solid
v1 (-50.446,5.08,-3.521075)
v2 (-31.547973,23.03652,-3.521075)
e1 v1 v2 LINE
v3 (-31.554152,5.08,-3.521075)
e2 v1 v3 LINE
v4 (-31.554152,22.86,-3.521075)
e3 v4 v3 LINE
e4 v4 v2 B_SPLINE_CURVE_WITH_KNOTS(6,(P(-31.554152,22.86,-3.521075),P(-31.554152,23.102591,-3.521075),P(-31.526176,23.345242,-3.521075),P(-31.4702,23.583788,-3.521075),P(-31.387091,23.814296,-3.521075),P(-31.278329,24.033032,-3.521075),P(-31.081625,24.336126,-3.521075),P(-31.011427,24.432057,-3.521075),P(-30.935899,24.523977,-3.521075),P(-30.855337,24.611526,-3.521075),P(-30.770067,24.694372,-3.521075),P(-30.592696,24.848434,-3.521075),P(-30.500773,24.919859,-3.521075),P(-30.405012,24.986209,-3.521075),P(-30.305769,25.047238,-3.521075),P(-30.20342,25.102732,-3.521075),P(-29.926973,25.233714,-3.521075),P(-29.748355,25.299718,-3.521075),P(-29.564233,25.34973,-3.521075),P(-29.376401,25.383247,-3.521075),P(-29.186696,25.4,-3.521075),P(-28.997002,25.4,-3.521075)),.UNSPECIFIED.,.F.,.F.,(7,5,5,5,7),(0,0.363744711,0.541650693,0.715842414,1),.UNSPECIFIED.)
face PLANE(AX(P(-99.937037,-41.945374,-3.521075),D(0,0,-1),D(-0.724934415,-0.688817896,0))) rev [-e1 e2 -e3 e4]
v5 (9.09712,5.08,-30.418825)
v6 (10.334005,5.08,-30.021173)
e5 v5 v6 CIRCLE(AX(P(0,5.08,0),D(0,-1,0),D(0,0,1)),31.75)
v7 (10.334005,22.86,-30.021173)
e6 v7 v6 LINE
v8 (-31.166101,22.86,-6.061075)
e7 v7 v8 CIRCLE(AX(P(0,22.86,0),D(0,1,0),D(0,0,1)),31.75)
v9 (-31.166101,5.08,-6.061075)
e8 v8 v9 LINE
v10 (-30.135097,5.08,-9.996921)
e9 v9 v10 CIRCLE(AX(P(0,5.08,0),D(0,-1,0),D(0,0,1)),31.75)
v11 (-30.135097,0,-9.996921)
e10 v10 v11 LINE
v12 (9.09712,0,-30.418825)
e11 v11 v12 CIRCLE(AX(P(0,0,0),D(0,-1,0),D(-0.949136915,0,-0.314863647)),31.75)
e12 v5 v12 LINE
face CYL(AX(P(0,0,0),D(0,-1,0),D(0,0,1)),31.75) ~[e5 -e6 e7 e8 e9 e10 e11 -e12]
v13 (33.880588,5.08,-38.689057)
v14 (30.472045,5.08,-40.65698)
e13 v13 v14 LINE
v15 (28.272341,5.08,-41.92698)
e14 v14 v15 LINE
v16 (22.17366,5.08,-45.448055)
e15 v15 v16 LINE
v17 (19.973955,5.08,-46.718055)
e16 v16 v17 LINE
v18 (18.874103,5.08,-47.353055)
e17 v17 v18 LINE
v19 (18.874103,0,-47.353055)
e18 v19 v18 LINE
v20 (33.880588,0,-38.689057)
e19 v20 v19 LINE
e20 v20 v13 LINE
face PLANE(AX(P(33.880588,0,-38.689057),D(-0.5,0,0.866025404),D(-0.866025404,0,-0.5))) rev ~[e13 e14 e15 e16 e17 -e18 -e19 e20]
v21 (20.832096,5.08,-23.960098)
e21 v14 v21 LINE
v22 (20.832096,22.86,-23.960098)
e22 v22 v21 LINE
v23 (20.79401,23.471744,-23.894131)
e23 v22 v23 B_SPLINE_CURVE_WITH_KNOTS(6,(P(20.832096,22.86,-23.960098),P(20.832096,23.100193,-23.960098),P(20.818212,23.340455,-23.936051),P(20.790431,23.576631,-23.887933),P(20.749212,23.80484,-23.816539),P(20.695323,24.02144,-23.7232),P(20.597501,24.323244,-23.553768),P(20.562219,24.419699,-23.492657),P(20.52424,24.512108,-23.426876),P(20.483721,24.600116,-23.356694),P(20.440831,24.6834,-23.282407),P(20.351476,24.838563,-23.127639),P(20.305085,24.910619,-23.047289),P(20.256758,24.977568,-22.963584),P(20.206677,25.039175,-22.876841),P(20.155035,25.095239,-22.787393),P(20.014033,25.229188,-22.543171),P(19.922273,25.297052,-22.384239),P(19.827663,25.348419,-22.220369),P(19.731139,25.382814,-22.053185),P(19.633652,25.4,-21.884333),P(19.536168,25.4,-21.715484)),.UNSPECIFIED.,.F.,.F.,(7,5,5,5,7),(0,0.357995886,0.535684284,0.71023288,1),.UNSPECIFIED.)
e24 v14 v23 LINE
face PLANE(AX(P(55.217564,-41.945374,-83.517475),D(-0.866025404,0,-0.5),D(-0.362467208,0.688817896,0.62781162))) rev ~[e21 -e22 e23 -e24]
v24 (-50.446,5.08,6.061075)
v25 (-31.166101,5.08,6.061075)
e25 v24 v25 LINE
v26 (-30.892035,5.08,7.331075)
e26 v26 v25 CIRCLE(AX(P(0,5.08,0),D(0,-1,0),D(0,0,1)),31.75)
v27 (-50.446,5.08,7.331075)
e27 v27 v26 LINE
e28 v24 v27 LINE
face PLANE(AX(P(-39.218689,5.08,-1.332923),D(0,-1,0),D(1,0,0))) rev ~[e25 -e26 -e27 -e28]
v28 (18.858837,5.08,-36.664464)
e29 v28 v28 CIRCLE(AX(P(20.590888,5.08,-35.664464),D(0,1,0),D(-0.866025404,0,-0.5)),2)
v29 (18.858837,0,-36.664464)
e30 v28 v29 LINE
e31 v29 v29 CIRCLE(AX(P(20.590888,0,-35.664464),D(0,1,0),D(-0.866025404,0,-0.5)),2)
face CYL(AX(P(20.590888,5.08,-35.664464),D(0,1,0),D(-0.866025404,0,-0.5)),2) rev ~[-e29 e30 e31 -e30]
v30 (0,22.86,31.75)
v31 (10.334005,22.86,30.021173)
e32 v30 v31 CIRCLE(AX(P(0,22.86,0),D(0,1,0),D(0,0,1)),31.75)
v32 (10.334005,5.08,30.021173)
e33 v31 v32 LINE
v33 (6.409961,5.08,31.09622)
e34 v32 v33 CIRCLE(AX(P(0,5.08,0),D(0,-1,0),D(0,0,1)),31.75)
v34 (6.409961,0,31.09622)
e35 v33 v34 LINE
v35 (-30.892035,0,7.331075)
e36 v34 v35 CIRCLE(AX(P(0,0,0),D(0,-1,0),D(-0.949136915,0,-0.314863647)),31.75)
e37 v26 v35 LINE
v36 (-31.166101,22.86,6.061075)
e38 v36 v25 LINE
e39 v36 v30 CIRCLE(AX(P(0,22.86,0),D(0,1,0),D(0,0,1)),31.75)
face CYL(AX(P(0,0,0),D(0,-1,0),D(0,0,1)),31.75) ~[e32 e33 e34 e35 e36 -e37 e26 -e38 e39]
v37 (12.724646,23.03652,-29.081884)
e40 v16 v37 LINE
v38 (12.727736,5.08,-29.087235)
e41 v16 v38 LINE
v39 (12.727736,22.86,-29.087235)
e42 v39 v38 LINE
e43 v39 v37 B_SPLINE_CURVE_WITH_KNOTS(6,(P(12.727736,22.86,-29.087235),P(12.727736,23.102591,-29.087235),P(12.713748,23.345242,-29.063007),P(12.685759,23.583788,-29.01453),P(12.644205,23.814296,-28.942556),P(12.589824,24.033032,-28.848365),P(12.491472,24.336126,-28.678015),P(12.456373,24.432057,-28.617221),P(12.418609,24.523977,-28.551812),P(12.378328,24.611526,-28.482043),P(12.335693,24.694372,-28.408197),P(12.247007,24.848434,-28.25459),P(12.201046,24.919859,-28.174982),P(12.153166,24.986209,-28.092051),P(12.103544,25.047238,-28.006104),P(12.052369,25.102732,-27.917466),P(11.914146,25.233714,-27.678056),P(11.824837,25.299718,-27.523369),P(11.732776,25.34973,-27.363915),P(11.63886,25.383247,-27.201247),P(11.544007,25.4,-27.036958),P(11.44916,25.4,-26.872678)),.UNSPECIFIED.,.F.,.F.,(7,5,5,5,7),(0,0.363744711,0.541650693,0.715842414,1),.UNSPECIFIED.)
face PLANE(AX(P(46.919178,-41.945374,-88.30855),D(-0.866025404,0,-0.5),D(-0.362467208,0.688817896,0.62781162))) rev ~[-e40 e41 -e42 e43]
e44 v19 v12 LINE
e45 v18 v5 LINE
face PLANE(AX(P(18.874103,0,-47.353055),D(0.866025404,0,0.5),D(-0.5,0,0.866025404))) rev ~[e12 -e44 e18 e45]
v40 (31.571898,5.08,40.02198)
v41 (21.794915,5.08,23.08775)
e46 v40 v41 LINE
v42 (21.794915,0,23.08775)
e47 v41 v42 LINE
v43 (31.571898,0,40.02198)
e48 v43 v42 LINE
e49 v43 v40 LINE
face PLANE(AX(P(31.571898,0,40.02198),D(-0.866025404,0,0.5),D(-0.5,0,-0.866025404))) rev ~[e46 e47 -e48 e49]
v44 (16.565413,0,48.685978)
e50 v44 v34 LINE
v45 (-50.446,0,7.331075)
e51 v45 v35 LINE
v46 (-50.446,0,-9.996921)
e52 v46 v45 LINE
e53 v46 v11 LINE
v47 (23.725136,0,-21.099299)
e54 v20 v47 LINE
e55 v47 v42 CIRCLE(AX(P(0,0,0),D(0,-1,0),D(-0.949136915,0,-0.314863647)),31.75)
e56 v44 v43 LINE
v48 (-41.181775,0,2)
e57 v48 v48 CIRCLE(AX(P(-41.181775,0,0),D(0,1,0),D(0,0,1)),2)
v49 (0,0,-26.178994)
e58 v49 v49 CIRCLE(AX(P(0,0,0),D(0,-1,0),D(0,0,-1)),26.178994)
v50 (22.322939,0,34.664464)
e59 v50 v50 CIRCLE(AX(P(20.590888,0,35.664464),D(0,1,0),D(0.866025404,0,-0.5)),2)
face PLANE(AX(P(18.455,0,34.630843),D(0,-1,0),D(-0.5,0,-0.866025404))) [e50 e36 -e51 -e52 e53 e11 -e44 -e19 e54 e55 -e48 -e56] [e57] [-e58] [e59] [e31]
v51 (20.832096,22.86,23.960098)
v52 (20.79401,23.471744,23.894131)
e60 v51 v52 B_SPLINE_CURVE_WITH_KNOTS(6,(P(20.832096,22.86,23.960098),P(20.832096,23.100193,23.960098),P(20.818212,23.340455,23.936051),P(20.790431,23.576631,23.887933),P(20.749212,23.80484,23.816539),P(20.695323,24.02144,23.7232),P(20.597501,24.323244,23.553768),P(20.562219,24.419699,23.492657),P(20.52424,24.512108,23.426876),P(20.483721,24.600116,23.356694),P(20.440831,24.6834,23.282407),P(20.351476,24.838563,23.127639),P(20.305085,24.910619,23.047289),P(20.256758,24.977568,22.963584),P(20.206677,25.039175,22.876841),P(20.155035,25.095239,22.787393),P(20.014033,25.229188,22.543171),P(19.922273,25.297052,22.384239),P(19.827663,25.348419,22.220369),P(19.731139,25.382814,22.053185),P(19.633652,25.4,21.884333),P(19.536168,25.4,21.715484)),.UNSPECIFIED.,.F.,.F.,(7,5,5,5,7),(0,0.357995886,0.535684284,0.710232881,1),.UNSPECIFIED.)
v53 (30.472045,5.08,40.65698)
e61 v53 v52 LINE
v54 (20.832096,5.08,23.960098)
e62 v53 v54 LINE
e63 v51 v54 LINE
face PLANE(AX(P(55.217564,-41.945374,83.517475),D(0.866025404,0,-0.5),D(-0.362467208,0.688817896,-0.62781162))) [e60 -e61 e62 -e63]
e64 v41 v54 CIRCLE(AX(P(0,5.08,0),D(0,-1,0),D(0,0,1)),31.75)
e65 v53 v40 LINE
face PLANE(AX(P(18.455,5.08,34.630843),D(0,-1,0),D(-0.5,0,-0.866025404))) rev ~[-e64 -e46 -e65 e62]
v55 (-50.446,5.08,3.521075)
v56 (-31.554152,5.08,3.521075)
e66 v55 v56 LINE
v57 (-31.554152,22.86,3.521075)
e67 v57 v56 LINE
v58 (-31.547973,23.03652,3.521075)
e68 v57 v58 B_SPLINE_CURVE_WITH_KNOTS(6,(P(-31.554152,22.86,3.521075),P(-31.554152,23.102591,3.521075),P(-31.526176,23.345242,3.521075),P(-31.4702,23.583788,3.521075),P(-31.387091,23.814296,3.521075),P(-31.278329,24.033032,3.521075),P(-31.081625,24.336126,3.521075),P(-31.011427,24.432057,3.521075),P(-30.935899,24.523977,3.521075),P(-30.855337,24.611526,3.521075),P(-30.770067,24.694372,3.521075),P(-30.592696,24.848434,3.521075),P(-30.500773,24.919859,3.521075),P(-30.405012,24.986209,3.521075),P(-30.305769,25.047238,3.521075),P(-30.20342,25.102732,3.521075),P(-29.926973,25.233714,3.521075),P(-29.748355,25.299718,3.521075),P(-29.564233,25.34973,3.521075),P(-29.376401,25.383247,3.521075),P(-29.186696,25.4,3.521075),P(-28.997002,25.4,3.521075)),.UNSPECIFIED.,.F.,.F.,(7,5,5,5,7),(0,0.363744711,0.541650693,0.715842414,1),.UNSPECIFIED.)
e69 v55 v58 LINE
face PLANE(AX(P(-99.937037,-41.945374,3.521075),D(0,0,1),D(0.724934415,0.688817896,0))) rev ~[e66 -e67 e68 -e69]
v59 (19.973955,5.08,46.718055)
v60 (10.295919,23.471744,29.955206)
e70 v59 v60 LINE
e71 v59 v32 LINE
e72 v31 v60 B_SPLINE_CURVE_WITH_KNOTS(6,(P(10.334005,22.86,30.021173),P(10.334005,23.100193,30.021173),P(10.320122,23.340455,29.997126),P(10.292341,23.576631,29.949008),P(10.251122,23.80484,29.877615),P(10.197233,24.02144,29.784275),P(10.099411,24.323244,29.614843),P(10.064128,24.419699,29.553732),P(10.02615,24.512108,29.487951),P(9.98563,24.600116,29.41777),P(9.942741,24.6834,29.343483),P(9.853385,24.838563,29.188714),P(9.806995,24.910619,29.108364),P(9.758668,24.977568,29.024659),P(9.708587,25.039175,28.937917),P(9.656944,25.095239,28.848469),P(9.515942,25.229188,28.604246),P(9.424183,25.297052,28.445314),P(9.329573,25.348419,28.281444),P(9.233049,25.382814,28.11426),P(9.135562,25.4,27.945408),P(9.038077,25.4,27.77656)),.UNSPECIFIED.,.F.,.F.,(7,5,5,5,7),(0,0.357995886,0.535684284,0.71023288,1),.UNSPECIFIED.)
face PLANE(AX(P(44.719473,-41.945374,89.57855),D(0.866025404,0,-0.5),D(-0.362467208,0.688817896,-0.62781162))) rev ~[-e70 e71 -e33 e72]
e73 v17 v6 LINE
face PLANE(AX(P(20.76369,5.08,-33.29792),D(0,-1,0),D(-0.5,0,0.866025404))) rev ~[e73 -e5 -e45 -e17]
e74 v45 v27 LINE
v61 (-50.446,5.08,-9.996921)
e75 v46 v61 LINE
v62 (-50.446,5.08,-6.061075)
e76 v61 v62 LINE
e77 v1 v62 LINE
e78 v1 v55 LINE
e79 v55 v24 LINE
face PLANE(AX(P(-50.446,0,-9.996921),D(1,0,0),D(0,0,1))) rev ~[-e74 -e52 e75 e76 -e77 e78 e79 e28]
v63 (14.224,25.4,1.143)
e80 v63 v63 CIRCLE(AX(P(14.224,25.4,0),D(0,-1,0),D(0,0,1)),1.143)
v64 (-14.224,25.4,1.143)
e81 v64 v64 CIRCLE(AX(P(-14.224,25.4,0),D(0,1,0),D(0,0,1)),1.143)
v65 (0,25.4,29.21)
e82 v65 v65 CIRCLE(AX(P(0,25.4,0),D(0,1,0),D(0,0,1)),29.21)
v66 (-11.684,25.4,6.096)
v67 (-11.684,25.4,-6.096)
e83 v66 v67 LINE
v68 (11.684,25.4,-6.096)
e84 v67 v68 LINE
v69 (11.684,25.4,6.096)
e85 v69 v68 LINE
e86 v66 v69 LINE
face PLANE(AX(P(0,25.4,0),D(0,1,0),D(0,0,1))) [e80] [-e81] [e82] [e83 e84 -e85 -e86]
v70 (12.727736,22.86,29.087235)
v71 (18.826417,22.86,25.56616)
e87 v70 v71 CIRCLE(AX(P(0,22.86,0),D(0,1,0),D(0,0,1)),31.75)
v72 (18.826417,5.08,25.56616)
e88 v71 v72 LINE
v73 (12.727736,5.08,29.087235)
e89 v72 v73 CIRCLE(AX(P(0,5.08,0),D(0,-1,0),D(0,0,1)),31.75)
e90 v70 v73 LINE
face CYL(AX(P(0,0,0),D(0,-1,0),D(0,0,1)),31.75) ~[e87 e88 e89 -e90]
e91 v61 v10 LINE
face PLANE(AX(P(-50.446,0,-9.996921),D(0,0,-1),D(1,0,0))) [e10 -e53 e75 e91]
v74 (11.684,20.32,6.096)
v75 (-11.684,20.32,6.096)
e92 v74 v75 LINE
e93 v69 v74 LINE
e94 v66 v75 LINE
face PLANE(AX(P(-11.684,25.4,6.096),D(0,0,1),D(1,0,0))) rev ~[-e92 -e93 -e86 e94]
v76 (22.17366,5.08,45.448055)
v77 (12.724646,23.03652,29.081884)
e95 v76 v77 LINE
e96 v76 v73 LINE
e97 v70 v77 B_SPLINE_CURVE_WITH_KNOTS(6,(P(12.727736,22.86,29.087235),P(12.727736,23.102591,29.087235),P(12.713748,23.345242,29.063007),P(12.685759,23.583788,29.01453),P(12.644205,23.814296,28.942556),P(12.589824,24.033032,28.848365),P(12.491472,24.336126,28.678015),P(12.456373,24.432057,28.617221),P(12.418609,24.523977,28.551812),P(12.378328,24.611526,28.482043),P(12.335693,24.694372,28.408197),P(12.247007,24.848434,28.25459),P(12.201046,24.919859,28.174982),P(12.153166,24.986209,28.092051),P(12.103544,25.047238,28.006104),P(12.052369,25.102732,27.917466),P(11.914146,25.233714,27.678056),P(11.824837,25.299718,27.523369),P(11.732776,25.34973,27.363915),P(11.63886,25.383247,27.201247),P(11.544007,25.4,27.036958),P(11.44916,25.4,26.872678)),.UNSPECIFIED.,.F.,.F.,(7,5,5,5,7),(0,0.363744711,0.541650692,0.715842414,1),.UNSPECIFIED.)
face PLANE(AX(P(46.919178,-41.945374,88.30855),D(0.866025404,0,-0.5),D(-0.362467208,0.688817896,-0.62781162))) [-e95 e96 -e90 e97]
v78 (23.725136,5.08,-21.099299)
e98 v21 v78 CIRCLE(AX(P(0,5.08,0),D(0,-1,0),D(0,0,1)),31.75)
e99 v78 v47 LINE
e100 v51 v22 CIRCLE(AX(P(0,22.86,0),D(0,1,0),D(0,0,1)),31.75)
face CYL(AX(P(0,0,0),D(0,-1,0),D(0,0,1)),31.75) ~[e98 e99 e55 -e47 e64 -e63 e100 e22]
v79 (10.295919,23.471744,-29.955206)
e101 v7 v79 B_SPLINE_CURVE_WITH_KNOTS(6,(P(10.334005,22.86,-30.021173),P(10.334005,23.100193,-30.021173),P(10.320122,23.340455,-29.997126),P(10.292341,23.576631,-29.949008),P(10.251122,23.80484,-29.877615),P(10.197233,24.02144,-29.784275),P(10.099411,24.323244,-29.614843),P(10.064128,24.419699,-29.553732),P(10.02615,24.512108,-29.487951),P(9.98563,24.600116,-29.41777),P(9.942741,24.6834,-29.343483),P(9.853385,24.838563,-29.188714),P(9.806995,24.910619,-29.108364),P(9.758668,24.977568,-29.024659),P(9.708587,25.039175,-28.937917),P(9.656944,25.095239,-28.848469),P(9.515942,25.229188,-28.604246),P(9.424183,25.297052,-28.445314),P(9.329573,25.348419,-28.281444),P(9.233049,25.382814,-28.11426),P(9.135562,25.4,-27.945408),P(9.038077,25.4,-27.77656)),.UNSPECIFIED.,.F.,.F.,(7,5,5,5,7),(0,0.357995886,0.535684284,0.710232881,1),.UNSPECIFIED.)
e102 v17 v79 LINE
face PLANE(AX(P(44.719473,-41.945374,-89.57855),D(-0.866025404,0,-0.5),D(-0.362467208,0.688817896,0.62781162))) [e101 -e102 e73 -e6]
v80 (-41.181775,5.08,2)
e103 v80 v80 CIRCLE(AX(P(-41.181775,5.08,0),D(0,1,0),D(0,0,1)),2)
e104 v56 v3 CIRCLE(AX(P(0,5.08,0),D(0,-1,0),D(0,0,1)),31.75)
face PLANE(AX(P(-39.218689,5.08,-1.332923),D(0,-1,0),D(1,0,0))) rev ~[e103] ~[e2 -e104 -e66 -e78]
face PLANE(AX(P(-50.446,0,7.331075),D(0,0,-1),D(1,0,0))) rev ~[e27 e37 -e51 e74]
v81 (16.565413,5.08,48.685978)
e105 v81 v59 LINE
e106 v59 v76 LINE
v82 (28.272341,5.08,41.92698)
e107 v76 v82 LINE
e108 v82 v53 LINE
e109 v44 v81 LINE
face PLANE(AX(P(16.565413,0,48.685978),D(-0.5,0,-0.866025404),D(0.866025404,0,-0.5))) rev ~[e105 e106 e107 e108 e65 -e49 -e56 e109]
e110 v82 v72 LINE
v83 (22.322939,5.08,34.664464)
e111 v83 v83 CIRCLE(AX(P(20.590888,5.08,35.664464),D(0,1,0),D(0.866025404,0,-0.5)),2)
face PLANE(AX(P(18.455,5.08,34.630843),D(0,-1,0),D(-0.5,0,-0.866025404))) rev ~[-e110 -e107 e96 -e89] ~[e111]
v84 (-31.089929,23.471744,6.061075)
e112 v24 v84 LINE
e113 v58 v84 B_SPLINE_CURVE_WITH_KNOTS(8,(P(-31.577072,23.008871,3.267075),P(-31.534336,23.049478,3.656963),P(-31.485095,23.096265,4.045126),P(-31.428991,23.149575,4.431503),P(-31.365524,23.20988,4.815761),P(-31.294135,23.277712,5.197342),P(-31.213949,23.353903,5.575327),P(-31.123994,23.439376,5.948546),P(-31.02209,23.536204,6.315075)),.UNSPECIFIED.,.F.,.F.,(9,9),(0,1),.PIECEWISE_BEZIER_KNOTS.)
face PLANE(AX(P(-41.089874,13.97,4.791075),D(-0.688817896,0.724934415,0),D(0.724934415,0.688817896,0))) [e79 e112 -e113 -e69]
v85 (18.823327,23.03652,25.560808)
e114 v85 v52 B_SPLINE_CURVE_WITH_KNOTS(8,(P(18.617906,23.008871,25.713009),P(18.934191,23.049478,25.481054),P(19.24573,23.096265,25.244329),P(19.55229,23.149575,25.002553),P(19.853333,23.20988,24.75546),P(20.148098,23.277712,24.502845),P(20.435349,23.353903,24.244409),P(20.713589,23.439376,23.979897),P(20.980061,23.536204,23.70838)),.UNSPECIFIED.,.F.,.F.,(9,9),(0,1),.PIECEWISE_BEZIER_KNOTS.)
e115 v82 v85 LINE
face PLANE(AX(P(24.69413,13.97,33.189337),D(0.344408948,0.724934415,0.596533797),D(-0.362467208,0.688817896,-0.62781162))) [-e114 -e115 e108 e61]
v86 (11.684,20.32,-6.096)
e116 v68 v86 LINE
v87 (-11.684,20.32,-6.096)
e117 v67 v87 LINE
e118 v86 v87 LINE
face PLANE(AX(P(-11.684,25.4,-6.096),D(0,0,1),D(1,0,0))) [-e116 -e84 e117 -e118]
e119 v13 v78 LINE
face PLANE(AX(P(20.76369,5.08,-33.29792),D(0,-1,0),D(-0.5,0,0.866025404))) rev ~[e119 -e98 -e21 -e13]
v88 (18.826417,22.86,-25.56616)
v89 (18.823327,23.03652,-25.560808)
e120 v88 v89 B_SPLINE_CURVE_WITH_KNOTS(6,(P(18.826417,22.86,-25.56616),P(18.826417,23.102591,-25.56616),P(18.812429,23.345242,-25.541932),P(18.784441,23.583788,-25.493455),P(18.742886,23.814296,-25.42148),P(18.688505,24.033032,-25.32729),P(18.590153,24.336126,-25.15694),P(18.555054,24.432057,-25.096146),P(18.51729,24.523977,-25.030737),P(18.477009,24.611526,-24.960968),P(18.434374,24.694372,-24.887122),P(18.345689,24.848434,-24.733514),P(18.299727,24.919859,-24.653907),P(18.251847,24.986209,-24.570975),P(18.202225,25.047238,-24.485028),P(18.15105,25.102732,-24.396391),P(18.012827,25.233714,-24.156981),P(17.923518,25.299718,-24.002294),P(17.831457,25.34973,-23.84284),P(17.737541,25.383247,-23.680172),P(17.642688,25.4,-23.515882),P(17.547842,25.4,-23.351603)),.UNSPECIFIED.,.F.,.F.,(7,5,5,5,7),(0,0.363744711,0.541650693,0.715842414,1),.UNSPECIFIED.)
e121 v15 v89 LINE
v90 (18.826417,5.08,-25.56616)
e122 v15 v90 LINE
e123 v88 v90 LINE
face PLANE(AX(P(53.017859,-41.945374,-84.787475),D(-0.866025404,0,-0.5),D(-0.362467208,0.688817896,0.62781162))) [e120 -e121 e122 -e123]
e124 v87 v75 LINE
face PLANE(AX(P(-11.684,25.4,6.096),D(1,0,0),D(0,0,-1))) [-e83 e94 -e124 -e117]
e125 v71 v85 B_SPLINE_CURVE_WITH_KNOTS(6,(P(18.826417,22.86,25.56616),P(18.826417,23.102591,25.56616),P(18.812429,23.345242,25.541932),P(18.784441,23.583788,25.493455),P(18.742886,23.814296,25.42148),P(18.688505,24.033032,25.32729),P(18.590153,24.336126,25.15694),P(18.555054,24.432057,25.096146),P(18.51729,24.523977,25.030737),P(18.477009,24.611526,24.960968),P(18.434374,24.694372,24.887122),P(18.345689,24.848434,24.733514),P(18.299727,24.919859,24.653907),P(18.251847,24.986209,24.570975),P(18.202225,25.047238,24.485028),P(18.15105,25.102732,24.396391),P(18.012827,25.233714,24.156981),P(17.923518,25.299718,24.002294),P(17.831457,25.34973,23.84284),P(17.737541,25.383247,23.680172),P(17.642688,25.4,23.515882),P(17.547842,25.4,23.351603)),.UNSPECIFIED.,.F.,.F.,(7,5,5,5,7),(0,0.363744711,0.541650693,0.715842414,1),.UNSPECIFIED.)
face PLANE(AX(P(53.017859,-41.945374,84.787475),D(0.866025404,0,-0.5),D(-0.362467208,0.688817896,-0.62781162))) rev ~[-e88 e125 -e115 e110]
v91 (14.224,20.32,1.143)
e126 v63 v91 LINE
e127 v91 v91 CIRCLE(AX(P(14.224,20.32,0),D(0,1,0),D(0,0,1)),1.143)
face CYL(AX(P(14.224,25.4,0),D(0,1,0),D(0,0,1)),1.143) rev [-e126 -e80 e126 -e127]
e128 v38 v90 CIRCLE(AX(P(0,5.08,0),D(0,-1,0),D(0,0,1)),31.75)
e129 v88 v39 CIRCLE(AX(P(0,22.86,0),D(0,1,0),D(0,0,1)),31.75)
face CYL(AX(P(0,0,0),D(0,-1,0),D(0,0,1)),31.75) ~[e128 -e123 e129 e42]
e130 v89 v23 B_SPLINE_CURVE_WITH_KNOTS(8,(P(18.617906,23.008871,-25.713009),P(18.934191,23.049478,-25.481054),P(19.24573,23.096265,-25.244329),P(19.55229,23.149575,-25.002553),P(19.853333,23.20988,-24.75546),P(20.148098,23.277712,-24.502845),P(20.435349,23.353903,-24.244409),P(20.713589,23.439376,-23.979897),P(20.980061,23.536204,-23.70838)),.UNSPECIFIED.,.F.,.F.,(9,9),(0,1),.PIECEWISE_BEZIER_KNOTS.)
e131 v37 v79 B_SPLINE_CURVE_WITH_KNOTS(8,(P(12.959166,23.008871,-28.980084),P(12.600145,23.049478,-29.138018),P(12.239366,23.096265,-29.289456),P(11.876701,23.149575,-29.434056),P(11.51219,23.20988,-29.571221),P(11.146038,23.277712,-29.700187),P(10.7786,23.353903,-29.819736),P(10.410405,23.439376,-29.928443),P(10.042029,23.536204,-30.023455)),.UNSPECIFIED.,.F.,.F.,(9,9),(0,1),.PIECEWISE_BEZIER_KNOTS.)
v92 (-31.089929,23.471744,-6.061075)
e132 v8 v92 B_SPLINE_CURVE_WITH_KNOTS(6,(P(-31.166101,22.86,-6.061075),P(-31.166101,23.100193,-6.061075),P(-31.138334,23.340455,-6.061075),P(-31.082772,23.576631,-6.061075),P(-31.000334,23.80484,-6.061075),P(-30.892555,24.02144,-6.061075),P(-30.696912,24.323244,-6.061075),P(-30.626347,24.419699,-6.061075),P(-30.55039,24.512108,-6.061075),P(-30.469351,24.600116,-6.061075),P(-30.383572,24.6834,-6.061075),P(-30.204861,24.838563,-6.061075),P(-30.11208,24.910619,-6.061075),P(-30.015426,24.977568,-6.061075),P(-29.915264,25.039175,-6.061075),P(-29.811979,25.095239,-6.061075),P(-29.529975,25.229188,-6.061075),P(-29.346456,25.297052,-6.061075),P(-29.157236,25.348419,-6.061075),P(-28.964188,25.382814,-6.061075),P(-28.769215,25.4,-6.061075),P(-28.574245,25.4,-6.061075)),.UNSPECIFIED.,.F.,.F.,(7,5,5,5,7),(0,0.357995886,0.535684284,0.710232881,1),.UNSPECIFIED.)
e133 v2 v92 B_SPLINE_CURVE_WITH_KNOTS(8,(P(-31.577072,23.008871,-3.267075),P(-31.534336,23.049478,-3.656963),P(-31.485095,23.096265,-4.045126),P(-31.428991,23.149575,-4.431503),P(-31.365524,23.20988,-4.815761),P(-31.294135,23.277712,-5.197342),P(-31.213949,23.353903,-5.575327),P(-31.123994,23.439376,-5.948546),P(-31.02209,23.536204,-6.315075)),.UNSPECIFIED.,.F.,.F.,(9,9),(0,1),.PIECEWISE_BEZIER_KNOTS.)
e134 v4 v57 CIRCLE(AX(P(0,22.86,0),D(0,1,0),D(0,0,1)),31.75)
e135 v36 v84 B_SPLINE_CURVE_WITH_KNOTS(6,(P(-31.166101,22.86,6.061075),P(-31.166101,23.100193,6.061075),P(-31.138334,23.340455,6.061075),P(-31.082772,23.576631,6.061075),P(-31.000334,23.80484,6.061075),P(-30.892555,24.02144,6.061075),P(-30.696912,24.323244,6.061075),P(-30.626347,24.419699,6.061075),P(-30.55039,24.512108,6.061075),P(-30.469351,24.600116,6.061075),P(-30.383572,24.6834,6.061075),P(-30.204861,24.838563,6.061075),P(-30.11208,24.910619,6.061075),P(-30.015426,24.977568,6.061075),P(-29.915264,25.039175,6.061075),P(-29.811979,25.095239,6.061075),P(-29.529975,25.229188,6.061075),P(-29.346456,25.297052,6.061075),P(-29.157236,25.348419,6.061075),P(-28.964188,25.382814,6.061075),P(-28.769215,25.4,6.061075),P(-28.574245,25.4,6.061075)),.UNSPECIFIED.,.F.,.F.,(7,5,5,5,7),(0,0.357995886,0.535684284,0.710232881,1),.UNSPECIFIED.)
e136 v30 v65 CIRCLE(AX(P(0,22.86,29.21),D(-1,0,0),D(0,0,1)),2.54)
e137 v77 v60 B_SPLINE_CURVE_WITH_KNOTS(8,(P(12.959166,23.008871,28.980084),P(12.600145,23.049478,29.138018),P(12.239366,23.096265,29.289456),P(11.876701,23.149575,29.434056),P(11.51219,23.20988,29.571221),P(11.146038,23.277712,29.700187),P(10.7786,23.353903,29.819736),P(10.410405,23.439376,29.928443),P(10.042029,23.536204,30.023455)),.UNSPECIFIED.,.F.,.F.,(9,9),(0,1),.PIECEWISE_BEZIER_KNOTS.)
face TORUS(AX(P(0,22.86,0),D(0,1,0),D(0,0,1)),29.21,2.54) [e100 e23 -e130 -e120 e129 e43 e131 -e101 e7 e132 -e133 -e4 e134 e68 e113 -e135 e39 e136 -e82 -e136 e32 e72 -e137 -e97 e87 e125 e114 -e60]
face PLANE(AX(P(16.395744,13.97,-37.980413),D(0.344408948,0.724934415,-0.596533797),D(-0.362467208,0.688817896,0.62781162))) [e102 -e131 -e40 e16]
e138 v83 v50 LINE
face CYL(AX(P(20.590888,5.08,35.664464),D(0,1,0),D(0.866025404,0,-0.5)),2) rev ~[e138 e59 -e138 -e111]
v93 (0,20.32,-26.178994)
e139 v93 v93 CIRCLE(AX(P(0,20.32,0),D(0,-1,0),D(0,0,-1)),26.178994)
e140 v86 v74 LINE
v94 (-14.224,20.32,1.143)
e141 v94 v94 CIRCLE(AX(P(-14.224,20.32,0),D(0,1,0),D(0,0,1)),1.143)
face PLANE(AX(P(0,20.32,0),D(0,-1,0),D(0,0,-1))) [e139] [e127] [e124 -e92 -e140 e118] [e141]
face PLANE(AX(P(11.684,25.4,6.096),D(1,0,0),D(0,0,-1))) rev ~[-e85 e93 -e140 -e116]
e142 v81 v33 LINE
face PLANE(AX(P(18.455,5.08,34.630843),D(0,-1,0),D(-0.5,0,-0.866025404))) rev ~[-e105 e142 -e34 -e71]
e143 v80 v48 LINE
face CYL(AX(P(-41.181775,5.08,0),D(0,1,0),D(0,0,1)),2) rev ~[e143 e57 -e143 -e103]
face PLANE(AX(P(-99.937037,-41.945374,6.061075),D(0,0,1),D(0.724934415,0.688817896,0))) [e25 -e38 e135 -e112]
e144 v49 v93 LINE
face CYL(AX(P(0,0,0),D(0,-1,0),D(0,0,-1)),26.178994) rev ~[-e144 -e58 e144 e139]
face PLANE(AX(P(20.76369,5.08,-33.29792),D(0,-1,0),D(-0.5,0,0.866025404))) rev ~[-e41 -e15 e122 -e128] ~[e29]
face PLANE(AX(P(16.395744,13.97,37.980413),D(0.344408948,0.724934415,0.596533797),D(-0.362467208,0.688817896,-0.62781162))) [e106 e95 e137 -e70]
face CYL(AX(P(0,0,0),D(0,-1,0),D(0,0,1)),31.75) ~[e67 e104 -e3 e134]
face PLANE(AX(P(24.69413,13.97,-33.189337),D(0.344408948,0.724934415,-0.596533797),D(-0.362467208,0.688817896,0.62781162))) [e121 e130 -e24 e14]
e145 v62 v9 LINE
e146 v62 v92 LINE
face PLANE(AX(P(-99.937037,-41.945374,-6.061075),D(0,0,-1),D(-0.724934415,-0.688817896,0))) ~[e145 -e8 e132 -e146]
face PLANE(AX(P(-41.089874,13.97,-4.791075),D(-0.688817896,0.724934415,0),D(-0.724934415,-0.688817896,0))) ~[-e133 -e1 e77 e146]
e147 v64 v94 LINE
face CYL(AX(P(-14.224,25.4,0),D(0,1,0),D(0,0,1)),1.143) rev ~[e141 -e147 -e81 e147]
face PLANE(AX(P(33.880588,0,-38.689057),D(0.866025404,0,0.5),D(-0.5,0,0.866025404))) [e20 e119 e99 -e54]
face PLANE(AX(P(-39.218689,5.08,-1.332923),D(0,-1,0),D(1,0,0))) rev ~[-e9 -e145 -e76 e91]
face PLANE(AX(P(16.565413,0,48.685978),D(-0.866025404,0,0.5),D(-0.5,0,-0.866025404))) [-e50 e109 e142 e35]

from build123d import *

# Parameters (mm, degrees)
SKETCH1_R                   = 31.75
BOSS_EXTRUDE1_DEPTH         = 25.4
FILLET1_R                   = 2.54
SKETCH2_R                   = 26.178994306
CUT_EXTRUDE1_DEPTH          = 20.32
SKETCH3_W                   = 23.368
SKETCH3_H                   = 12.192
CUT_EXTRUDE2_DEPTH          = 20.32
SKETCH4_R                   = 1.143
CUT_EXTRUDE3_DEPTH          = 20.32
SKETCH6_W                   = 22.454622086
SKETCH6_H                   = 17.327996038
BOSS_EXTRUDE2_DEPTH         = 5.08
RIB1_REACH                  = 69.27
SKETCH11_WALL_W             = 162.351686776
SKETCH11_WALL_H             = 2.54
CIRPATTERN1_COUNT           = 3
CIRPATTERN1_COPY_1_REACH    = 69.27
CIRPATTERN1_COPY_1_SKETCH_W = 162.351686776
CIRPATTERN1_COPY_1_SKETCH_H = 2.54
CIRPATTERN1_COPY_2_REACH    = 69.27
CIRPATTERN1_COPY_2_SKETCH_W = 162.351686776
CIRPATTERN1_COPY_2_SKETCH_H = 2.54
SKETCH12_R                  = 2
CUT_EXTRUDE4_DEPTH          = 5.08
CIRPATTERN2_COUNT           = 3


with BuildPart() as part:
    # Sketch1 → Boss-Extrude1 (new body)
    with BuildSketch(Plane(origin=(0, 0, 0), x_dir=(1, 0, 0), z_dir=(0, 1, 0))):
        with Locations(Location((0, 0, 0), (0, 0, 270))):
            Circle(SKETCH1_R)
    extrude(amount=BOSS_EXTRUDE1_DEPTH)

    # Fillet1
    fillet1_edges = [part.edges().sort_by_distance(p)[0] for p in [
        (0, 25.4, -31.75),
    ]]
    fillet(fillet1_edges, radius=FILLET1_R)

    # Sketch2 → Cut-Extrude1 (cut)
    with BuildSketch(Plane.XZ):
        with Locations(Location((0, 0, 0), (0, 0, 270))):
            Circle(SKETCH2_R)
    extrude(amount=-CUT_EXTRUDE1_DEPTH, mode=Mode.SUBTRACT)

    # Sketch3 → Cut-Extrude2 (cut)
    with BuildSketch(Plane(origin=(0, 25.4, 0), x_dir=(1, 0, 0), z_dir=(0, 1, 0))):
        Rectangle(SKETCH3_W, SKETCH3_H)
    extrude(amount=-CUT_EXTRUDE2_DEPTH, mode=Mode.SUBTRACT)

    # Sketch4 → Cut-Extrude3 (cut)
    with BuildSketch(Plane(origin=(0, 25.4, 0), x_dir=(1, 0, 0), z_dir=(0, 1, 0))):
        with Locations(Location((-14.224, 0, 0), (0, 0, 270))):
            Circle(SKETCH4_R)
    cut_extrude3 = extrude(amount=-CUT_EXTRUDE3_DEPTH, mode=Mode.SUBTRACT)

    # Mirror1: Cut-Extrude3 across plane
    add(cut_extrude3.mirror(Plane(origin=(0, 0, 0), x_dir=(0, 0, 1), z_dir=(1, 0, 0))), mode=Mode.SUBTRACT)

    # Sketch6 → Boss-Extrude2 (add)
    with BuildSketch(Plane.XZ):
        with Locations((-39.218689259, -1.332922772)):
            Rectangle(SKETCH6_W, SKETCH6_H)
    boss_extrude2 = extrude(amount=-BOSS_EXTRUDE2_DEPTH)

    # Sketch11 wall → Rib1 (add, up to next)
    with BuildSketch(Plane(origin=(-41.089874413, 13.97, 4.791075247), x_dir=(0.724934415066, 0.688817896002, 0), z_dir=(-0.688817896002, 0.724934415066, 0)), mode=Mode.PRIVATE) as rib1_sk1:
        Rectangle(SKETCH11_WALL_W, SKETCH11_WALL_H)
    rib1_tool1 = extrude(rib1_sk1.sketch, amount=-RIB1_REACH, mode=Mode.PRIVATE) - part.part
    rib1 = rib1_tool1.solids().sort_by_distance((-41.089874413, 13.97, 4.791075247))[0]
    add(rib1)

    # Mirror2: Rib1 across plane
    add(rib1.mirror(Plane.XY))

    # CirPattern1: Boss-Extrude2, Rib1 ×3 about axis
    cirpattern1_axis = Axis((0, 0, 0), (0, 1, 0))
    add([boss_extrude2.rotate(cirpattern1_axis, i * 360 / CIRPATTERN1_COUNT) for i in range(1, CIRPATTERN1_COUNT)])
    add([rib1.rotate(cirpattern1_axis, i * 360 / CIRPATTERN1_COUNT) for i in range(1, CIRPATTERN1_COUNT)])

    # CirPattern1 copy 1 sketch → CirPattern1 copy 1 (add, up to next)
    with BuildSketch(Plane(origin=(16.395744331, 13.97, 37.980412703), x_dir=(-0.3624672075329998, 0.688817896002, -0.6278116195247685), z_dir=(0.34440894800099986, 0.724934415066, 0.5965337965190796)), mode=Mode.PRIVATE) as cirpattern1_copy_1_sk1:
        Rectangle(CIRPATTERN1_COPY_1_SKETCH_W, CIRPATTERN1_COPY_1_SKETCH_H)
    cirpattern1_copy_1_tool1 = extrude(cirpattern1_copy_1_sk1.sketch, amount=-CIRPATTERN1_COPY_1_REACH, mode=Mode.PRIVATE) - part.part
    add(cirpattern1_copy_1_tool1.solids().sort_by_distance((16.395744331, 13.97, 37.980412703))[0])

    # CirPattern1 copy 2 sketch → CirPattern1 copy 2 (add, up to next)
    with BuildSketch(Plane(origin=(24.694130082, 13.97, -33.189337456), x_dir=(-0.3624672075330003, 0.688817896002, 0.6278116195247683), z_dir=(0.34440894800100036, 0.724934415066, -0.5965337965190793)), mode=Mode.PRIVATE) as cirpattern1_copy_2_sk1:
        Rectangle(CIRPATTERN1_COPY_2_SKETCH_W, CIRPATTERN1_COPY_2_SKETCH_H)
    cirpattern1_copy_2_tool1 = extrude(cirpattern1_copy_2_sk1.sketch, amount=-CIRPATTERN1_COPY_2_REACH, mode=Mode.PRIVATE) - part.part
    add(cirpattern1_copy_2_tool1.solids().sort_by_distance((24.694130082, 13.97, -33.189337456))[0])

    # Sketch12 → Cut-Extrude4 (cut)
    with BuildSketch(Plane(origin=(0, 5.08, 0), x_dir=(1, 0, 0), z_dir=(0, 1, 0))):
        with Locations(Location((-41.1817754, 0, 0), (0, 0, 270))):
            Circle(SKETCH12_R)
    cut_extrude4 = extrude(amount=-CUT_EXTRUDE4_DEPTH, mode=Mode.SUBTRACT)

    # CirPattern2: Cut-Extrude4 ×3 about axis
    cirpattern2_axis = Axis((0, 0, 0), (0, 1, 0))
    for i in range(1, CIRPATTERN2_COUNT):
        add(cut_extrude4.rotate(cirpattern2_axis, i * 360 / CIRPATTERN2_COUNT), mode=Mode.SUBTRACT)


solid = part.part
